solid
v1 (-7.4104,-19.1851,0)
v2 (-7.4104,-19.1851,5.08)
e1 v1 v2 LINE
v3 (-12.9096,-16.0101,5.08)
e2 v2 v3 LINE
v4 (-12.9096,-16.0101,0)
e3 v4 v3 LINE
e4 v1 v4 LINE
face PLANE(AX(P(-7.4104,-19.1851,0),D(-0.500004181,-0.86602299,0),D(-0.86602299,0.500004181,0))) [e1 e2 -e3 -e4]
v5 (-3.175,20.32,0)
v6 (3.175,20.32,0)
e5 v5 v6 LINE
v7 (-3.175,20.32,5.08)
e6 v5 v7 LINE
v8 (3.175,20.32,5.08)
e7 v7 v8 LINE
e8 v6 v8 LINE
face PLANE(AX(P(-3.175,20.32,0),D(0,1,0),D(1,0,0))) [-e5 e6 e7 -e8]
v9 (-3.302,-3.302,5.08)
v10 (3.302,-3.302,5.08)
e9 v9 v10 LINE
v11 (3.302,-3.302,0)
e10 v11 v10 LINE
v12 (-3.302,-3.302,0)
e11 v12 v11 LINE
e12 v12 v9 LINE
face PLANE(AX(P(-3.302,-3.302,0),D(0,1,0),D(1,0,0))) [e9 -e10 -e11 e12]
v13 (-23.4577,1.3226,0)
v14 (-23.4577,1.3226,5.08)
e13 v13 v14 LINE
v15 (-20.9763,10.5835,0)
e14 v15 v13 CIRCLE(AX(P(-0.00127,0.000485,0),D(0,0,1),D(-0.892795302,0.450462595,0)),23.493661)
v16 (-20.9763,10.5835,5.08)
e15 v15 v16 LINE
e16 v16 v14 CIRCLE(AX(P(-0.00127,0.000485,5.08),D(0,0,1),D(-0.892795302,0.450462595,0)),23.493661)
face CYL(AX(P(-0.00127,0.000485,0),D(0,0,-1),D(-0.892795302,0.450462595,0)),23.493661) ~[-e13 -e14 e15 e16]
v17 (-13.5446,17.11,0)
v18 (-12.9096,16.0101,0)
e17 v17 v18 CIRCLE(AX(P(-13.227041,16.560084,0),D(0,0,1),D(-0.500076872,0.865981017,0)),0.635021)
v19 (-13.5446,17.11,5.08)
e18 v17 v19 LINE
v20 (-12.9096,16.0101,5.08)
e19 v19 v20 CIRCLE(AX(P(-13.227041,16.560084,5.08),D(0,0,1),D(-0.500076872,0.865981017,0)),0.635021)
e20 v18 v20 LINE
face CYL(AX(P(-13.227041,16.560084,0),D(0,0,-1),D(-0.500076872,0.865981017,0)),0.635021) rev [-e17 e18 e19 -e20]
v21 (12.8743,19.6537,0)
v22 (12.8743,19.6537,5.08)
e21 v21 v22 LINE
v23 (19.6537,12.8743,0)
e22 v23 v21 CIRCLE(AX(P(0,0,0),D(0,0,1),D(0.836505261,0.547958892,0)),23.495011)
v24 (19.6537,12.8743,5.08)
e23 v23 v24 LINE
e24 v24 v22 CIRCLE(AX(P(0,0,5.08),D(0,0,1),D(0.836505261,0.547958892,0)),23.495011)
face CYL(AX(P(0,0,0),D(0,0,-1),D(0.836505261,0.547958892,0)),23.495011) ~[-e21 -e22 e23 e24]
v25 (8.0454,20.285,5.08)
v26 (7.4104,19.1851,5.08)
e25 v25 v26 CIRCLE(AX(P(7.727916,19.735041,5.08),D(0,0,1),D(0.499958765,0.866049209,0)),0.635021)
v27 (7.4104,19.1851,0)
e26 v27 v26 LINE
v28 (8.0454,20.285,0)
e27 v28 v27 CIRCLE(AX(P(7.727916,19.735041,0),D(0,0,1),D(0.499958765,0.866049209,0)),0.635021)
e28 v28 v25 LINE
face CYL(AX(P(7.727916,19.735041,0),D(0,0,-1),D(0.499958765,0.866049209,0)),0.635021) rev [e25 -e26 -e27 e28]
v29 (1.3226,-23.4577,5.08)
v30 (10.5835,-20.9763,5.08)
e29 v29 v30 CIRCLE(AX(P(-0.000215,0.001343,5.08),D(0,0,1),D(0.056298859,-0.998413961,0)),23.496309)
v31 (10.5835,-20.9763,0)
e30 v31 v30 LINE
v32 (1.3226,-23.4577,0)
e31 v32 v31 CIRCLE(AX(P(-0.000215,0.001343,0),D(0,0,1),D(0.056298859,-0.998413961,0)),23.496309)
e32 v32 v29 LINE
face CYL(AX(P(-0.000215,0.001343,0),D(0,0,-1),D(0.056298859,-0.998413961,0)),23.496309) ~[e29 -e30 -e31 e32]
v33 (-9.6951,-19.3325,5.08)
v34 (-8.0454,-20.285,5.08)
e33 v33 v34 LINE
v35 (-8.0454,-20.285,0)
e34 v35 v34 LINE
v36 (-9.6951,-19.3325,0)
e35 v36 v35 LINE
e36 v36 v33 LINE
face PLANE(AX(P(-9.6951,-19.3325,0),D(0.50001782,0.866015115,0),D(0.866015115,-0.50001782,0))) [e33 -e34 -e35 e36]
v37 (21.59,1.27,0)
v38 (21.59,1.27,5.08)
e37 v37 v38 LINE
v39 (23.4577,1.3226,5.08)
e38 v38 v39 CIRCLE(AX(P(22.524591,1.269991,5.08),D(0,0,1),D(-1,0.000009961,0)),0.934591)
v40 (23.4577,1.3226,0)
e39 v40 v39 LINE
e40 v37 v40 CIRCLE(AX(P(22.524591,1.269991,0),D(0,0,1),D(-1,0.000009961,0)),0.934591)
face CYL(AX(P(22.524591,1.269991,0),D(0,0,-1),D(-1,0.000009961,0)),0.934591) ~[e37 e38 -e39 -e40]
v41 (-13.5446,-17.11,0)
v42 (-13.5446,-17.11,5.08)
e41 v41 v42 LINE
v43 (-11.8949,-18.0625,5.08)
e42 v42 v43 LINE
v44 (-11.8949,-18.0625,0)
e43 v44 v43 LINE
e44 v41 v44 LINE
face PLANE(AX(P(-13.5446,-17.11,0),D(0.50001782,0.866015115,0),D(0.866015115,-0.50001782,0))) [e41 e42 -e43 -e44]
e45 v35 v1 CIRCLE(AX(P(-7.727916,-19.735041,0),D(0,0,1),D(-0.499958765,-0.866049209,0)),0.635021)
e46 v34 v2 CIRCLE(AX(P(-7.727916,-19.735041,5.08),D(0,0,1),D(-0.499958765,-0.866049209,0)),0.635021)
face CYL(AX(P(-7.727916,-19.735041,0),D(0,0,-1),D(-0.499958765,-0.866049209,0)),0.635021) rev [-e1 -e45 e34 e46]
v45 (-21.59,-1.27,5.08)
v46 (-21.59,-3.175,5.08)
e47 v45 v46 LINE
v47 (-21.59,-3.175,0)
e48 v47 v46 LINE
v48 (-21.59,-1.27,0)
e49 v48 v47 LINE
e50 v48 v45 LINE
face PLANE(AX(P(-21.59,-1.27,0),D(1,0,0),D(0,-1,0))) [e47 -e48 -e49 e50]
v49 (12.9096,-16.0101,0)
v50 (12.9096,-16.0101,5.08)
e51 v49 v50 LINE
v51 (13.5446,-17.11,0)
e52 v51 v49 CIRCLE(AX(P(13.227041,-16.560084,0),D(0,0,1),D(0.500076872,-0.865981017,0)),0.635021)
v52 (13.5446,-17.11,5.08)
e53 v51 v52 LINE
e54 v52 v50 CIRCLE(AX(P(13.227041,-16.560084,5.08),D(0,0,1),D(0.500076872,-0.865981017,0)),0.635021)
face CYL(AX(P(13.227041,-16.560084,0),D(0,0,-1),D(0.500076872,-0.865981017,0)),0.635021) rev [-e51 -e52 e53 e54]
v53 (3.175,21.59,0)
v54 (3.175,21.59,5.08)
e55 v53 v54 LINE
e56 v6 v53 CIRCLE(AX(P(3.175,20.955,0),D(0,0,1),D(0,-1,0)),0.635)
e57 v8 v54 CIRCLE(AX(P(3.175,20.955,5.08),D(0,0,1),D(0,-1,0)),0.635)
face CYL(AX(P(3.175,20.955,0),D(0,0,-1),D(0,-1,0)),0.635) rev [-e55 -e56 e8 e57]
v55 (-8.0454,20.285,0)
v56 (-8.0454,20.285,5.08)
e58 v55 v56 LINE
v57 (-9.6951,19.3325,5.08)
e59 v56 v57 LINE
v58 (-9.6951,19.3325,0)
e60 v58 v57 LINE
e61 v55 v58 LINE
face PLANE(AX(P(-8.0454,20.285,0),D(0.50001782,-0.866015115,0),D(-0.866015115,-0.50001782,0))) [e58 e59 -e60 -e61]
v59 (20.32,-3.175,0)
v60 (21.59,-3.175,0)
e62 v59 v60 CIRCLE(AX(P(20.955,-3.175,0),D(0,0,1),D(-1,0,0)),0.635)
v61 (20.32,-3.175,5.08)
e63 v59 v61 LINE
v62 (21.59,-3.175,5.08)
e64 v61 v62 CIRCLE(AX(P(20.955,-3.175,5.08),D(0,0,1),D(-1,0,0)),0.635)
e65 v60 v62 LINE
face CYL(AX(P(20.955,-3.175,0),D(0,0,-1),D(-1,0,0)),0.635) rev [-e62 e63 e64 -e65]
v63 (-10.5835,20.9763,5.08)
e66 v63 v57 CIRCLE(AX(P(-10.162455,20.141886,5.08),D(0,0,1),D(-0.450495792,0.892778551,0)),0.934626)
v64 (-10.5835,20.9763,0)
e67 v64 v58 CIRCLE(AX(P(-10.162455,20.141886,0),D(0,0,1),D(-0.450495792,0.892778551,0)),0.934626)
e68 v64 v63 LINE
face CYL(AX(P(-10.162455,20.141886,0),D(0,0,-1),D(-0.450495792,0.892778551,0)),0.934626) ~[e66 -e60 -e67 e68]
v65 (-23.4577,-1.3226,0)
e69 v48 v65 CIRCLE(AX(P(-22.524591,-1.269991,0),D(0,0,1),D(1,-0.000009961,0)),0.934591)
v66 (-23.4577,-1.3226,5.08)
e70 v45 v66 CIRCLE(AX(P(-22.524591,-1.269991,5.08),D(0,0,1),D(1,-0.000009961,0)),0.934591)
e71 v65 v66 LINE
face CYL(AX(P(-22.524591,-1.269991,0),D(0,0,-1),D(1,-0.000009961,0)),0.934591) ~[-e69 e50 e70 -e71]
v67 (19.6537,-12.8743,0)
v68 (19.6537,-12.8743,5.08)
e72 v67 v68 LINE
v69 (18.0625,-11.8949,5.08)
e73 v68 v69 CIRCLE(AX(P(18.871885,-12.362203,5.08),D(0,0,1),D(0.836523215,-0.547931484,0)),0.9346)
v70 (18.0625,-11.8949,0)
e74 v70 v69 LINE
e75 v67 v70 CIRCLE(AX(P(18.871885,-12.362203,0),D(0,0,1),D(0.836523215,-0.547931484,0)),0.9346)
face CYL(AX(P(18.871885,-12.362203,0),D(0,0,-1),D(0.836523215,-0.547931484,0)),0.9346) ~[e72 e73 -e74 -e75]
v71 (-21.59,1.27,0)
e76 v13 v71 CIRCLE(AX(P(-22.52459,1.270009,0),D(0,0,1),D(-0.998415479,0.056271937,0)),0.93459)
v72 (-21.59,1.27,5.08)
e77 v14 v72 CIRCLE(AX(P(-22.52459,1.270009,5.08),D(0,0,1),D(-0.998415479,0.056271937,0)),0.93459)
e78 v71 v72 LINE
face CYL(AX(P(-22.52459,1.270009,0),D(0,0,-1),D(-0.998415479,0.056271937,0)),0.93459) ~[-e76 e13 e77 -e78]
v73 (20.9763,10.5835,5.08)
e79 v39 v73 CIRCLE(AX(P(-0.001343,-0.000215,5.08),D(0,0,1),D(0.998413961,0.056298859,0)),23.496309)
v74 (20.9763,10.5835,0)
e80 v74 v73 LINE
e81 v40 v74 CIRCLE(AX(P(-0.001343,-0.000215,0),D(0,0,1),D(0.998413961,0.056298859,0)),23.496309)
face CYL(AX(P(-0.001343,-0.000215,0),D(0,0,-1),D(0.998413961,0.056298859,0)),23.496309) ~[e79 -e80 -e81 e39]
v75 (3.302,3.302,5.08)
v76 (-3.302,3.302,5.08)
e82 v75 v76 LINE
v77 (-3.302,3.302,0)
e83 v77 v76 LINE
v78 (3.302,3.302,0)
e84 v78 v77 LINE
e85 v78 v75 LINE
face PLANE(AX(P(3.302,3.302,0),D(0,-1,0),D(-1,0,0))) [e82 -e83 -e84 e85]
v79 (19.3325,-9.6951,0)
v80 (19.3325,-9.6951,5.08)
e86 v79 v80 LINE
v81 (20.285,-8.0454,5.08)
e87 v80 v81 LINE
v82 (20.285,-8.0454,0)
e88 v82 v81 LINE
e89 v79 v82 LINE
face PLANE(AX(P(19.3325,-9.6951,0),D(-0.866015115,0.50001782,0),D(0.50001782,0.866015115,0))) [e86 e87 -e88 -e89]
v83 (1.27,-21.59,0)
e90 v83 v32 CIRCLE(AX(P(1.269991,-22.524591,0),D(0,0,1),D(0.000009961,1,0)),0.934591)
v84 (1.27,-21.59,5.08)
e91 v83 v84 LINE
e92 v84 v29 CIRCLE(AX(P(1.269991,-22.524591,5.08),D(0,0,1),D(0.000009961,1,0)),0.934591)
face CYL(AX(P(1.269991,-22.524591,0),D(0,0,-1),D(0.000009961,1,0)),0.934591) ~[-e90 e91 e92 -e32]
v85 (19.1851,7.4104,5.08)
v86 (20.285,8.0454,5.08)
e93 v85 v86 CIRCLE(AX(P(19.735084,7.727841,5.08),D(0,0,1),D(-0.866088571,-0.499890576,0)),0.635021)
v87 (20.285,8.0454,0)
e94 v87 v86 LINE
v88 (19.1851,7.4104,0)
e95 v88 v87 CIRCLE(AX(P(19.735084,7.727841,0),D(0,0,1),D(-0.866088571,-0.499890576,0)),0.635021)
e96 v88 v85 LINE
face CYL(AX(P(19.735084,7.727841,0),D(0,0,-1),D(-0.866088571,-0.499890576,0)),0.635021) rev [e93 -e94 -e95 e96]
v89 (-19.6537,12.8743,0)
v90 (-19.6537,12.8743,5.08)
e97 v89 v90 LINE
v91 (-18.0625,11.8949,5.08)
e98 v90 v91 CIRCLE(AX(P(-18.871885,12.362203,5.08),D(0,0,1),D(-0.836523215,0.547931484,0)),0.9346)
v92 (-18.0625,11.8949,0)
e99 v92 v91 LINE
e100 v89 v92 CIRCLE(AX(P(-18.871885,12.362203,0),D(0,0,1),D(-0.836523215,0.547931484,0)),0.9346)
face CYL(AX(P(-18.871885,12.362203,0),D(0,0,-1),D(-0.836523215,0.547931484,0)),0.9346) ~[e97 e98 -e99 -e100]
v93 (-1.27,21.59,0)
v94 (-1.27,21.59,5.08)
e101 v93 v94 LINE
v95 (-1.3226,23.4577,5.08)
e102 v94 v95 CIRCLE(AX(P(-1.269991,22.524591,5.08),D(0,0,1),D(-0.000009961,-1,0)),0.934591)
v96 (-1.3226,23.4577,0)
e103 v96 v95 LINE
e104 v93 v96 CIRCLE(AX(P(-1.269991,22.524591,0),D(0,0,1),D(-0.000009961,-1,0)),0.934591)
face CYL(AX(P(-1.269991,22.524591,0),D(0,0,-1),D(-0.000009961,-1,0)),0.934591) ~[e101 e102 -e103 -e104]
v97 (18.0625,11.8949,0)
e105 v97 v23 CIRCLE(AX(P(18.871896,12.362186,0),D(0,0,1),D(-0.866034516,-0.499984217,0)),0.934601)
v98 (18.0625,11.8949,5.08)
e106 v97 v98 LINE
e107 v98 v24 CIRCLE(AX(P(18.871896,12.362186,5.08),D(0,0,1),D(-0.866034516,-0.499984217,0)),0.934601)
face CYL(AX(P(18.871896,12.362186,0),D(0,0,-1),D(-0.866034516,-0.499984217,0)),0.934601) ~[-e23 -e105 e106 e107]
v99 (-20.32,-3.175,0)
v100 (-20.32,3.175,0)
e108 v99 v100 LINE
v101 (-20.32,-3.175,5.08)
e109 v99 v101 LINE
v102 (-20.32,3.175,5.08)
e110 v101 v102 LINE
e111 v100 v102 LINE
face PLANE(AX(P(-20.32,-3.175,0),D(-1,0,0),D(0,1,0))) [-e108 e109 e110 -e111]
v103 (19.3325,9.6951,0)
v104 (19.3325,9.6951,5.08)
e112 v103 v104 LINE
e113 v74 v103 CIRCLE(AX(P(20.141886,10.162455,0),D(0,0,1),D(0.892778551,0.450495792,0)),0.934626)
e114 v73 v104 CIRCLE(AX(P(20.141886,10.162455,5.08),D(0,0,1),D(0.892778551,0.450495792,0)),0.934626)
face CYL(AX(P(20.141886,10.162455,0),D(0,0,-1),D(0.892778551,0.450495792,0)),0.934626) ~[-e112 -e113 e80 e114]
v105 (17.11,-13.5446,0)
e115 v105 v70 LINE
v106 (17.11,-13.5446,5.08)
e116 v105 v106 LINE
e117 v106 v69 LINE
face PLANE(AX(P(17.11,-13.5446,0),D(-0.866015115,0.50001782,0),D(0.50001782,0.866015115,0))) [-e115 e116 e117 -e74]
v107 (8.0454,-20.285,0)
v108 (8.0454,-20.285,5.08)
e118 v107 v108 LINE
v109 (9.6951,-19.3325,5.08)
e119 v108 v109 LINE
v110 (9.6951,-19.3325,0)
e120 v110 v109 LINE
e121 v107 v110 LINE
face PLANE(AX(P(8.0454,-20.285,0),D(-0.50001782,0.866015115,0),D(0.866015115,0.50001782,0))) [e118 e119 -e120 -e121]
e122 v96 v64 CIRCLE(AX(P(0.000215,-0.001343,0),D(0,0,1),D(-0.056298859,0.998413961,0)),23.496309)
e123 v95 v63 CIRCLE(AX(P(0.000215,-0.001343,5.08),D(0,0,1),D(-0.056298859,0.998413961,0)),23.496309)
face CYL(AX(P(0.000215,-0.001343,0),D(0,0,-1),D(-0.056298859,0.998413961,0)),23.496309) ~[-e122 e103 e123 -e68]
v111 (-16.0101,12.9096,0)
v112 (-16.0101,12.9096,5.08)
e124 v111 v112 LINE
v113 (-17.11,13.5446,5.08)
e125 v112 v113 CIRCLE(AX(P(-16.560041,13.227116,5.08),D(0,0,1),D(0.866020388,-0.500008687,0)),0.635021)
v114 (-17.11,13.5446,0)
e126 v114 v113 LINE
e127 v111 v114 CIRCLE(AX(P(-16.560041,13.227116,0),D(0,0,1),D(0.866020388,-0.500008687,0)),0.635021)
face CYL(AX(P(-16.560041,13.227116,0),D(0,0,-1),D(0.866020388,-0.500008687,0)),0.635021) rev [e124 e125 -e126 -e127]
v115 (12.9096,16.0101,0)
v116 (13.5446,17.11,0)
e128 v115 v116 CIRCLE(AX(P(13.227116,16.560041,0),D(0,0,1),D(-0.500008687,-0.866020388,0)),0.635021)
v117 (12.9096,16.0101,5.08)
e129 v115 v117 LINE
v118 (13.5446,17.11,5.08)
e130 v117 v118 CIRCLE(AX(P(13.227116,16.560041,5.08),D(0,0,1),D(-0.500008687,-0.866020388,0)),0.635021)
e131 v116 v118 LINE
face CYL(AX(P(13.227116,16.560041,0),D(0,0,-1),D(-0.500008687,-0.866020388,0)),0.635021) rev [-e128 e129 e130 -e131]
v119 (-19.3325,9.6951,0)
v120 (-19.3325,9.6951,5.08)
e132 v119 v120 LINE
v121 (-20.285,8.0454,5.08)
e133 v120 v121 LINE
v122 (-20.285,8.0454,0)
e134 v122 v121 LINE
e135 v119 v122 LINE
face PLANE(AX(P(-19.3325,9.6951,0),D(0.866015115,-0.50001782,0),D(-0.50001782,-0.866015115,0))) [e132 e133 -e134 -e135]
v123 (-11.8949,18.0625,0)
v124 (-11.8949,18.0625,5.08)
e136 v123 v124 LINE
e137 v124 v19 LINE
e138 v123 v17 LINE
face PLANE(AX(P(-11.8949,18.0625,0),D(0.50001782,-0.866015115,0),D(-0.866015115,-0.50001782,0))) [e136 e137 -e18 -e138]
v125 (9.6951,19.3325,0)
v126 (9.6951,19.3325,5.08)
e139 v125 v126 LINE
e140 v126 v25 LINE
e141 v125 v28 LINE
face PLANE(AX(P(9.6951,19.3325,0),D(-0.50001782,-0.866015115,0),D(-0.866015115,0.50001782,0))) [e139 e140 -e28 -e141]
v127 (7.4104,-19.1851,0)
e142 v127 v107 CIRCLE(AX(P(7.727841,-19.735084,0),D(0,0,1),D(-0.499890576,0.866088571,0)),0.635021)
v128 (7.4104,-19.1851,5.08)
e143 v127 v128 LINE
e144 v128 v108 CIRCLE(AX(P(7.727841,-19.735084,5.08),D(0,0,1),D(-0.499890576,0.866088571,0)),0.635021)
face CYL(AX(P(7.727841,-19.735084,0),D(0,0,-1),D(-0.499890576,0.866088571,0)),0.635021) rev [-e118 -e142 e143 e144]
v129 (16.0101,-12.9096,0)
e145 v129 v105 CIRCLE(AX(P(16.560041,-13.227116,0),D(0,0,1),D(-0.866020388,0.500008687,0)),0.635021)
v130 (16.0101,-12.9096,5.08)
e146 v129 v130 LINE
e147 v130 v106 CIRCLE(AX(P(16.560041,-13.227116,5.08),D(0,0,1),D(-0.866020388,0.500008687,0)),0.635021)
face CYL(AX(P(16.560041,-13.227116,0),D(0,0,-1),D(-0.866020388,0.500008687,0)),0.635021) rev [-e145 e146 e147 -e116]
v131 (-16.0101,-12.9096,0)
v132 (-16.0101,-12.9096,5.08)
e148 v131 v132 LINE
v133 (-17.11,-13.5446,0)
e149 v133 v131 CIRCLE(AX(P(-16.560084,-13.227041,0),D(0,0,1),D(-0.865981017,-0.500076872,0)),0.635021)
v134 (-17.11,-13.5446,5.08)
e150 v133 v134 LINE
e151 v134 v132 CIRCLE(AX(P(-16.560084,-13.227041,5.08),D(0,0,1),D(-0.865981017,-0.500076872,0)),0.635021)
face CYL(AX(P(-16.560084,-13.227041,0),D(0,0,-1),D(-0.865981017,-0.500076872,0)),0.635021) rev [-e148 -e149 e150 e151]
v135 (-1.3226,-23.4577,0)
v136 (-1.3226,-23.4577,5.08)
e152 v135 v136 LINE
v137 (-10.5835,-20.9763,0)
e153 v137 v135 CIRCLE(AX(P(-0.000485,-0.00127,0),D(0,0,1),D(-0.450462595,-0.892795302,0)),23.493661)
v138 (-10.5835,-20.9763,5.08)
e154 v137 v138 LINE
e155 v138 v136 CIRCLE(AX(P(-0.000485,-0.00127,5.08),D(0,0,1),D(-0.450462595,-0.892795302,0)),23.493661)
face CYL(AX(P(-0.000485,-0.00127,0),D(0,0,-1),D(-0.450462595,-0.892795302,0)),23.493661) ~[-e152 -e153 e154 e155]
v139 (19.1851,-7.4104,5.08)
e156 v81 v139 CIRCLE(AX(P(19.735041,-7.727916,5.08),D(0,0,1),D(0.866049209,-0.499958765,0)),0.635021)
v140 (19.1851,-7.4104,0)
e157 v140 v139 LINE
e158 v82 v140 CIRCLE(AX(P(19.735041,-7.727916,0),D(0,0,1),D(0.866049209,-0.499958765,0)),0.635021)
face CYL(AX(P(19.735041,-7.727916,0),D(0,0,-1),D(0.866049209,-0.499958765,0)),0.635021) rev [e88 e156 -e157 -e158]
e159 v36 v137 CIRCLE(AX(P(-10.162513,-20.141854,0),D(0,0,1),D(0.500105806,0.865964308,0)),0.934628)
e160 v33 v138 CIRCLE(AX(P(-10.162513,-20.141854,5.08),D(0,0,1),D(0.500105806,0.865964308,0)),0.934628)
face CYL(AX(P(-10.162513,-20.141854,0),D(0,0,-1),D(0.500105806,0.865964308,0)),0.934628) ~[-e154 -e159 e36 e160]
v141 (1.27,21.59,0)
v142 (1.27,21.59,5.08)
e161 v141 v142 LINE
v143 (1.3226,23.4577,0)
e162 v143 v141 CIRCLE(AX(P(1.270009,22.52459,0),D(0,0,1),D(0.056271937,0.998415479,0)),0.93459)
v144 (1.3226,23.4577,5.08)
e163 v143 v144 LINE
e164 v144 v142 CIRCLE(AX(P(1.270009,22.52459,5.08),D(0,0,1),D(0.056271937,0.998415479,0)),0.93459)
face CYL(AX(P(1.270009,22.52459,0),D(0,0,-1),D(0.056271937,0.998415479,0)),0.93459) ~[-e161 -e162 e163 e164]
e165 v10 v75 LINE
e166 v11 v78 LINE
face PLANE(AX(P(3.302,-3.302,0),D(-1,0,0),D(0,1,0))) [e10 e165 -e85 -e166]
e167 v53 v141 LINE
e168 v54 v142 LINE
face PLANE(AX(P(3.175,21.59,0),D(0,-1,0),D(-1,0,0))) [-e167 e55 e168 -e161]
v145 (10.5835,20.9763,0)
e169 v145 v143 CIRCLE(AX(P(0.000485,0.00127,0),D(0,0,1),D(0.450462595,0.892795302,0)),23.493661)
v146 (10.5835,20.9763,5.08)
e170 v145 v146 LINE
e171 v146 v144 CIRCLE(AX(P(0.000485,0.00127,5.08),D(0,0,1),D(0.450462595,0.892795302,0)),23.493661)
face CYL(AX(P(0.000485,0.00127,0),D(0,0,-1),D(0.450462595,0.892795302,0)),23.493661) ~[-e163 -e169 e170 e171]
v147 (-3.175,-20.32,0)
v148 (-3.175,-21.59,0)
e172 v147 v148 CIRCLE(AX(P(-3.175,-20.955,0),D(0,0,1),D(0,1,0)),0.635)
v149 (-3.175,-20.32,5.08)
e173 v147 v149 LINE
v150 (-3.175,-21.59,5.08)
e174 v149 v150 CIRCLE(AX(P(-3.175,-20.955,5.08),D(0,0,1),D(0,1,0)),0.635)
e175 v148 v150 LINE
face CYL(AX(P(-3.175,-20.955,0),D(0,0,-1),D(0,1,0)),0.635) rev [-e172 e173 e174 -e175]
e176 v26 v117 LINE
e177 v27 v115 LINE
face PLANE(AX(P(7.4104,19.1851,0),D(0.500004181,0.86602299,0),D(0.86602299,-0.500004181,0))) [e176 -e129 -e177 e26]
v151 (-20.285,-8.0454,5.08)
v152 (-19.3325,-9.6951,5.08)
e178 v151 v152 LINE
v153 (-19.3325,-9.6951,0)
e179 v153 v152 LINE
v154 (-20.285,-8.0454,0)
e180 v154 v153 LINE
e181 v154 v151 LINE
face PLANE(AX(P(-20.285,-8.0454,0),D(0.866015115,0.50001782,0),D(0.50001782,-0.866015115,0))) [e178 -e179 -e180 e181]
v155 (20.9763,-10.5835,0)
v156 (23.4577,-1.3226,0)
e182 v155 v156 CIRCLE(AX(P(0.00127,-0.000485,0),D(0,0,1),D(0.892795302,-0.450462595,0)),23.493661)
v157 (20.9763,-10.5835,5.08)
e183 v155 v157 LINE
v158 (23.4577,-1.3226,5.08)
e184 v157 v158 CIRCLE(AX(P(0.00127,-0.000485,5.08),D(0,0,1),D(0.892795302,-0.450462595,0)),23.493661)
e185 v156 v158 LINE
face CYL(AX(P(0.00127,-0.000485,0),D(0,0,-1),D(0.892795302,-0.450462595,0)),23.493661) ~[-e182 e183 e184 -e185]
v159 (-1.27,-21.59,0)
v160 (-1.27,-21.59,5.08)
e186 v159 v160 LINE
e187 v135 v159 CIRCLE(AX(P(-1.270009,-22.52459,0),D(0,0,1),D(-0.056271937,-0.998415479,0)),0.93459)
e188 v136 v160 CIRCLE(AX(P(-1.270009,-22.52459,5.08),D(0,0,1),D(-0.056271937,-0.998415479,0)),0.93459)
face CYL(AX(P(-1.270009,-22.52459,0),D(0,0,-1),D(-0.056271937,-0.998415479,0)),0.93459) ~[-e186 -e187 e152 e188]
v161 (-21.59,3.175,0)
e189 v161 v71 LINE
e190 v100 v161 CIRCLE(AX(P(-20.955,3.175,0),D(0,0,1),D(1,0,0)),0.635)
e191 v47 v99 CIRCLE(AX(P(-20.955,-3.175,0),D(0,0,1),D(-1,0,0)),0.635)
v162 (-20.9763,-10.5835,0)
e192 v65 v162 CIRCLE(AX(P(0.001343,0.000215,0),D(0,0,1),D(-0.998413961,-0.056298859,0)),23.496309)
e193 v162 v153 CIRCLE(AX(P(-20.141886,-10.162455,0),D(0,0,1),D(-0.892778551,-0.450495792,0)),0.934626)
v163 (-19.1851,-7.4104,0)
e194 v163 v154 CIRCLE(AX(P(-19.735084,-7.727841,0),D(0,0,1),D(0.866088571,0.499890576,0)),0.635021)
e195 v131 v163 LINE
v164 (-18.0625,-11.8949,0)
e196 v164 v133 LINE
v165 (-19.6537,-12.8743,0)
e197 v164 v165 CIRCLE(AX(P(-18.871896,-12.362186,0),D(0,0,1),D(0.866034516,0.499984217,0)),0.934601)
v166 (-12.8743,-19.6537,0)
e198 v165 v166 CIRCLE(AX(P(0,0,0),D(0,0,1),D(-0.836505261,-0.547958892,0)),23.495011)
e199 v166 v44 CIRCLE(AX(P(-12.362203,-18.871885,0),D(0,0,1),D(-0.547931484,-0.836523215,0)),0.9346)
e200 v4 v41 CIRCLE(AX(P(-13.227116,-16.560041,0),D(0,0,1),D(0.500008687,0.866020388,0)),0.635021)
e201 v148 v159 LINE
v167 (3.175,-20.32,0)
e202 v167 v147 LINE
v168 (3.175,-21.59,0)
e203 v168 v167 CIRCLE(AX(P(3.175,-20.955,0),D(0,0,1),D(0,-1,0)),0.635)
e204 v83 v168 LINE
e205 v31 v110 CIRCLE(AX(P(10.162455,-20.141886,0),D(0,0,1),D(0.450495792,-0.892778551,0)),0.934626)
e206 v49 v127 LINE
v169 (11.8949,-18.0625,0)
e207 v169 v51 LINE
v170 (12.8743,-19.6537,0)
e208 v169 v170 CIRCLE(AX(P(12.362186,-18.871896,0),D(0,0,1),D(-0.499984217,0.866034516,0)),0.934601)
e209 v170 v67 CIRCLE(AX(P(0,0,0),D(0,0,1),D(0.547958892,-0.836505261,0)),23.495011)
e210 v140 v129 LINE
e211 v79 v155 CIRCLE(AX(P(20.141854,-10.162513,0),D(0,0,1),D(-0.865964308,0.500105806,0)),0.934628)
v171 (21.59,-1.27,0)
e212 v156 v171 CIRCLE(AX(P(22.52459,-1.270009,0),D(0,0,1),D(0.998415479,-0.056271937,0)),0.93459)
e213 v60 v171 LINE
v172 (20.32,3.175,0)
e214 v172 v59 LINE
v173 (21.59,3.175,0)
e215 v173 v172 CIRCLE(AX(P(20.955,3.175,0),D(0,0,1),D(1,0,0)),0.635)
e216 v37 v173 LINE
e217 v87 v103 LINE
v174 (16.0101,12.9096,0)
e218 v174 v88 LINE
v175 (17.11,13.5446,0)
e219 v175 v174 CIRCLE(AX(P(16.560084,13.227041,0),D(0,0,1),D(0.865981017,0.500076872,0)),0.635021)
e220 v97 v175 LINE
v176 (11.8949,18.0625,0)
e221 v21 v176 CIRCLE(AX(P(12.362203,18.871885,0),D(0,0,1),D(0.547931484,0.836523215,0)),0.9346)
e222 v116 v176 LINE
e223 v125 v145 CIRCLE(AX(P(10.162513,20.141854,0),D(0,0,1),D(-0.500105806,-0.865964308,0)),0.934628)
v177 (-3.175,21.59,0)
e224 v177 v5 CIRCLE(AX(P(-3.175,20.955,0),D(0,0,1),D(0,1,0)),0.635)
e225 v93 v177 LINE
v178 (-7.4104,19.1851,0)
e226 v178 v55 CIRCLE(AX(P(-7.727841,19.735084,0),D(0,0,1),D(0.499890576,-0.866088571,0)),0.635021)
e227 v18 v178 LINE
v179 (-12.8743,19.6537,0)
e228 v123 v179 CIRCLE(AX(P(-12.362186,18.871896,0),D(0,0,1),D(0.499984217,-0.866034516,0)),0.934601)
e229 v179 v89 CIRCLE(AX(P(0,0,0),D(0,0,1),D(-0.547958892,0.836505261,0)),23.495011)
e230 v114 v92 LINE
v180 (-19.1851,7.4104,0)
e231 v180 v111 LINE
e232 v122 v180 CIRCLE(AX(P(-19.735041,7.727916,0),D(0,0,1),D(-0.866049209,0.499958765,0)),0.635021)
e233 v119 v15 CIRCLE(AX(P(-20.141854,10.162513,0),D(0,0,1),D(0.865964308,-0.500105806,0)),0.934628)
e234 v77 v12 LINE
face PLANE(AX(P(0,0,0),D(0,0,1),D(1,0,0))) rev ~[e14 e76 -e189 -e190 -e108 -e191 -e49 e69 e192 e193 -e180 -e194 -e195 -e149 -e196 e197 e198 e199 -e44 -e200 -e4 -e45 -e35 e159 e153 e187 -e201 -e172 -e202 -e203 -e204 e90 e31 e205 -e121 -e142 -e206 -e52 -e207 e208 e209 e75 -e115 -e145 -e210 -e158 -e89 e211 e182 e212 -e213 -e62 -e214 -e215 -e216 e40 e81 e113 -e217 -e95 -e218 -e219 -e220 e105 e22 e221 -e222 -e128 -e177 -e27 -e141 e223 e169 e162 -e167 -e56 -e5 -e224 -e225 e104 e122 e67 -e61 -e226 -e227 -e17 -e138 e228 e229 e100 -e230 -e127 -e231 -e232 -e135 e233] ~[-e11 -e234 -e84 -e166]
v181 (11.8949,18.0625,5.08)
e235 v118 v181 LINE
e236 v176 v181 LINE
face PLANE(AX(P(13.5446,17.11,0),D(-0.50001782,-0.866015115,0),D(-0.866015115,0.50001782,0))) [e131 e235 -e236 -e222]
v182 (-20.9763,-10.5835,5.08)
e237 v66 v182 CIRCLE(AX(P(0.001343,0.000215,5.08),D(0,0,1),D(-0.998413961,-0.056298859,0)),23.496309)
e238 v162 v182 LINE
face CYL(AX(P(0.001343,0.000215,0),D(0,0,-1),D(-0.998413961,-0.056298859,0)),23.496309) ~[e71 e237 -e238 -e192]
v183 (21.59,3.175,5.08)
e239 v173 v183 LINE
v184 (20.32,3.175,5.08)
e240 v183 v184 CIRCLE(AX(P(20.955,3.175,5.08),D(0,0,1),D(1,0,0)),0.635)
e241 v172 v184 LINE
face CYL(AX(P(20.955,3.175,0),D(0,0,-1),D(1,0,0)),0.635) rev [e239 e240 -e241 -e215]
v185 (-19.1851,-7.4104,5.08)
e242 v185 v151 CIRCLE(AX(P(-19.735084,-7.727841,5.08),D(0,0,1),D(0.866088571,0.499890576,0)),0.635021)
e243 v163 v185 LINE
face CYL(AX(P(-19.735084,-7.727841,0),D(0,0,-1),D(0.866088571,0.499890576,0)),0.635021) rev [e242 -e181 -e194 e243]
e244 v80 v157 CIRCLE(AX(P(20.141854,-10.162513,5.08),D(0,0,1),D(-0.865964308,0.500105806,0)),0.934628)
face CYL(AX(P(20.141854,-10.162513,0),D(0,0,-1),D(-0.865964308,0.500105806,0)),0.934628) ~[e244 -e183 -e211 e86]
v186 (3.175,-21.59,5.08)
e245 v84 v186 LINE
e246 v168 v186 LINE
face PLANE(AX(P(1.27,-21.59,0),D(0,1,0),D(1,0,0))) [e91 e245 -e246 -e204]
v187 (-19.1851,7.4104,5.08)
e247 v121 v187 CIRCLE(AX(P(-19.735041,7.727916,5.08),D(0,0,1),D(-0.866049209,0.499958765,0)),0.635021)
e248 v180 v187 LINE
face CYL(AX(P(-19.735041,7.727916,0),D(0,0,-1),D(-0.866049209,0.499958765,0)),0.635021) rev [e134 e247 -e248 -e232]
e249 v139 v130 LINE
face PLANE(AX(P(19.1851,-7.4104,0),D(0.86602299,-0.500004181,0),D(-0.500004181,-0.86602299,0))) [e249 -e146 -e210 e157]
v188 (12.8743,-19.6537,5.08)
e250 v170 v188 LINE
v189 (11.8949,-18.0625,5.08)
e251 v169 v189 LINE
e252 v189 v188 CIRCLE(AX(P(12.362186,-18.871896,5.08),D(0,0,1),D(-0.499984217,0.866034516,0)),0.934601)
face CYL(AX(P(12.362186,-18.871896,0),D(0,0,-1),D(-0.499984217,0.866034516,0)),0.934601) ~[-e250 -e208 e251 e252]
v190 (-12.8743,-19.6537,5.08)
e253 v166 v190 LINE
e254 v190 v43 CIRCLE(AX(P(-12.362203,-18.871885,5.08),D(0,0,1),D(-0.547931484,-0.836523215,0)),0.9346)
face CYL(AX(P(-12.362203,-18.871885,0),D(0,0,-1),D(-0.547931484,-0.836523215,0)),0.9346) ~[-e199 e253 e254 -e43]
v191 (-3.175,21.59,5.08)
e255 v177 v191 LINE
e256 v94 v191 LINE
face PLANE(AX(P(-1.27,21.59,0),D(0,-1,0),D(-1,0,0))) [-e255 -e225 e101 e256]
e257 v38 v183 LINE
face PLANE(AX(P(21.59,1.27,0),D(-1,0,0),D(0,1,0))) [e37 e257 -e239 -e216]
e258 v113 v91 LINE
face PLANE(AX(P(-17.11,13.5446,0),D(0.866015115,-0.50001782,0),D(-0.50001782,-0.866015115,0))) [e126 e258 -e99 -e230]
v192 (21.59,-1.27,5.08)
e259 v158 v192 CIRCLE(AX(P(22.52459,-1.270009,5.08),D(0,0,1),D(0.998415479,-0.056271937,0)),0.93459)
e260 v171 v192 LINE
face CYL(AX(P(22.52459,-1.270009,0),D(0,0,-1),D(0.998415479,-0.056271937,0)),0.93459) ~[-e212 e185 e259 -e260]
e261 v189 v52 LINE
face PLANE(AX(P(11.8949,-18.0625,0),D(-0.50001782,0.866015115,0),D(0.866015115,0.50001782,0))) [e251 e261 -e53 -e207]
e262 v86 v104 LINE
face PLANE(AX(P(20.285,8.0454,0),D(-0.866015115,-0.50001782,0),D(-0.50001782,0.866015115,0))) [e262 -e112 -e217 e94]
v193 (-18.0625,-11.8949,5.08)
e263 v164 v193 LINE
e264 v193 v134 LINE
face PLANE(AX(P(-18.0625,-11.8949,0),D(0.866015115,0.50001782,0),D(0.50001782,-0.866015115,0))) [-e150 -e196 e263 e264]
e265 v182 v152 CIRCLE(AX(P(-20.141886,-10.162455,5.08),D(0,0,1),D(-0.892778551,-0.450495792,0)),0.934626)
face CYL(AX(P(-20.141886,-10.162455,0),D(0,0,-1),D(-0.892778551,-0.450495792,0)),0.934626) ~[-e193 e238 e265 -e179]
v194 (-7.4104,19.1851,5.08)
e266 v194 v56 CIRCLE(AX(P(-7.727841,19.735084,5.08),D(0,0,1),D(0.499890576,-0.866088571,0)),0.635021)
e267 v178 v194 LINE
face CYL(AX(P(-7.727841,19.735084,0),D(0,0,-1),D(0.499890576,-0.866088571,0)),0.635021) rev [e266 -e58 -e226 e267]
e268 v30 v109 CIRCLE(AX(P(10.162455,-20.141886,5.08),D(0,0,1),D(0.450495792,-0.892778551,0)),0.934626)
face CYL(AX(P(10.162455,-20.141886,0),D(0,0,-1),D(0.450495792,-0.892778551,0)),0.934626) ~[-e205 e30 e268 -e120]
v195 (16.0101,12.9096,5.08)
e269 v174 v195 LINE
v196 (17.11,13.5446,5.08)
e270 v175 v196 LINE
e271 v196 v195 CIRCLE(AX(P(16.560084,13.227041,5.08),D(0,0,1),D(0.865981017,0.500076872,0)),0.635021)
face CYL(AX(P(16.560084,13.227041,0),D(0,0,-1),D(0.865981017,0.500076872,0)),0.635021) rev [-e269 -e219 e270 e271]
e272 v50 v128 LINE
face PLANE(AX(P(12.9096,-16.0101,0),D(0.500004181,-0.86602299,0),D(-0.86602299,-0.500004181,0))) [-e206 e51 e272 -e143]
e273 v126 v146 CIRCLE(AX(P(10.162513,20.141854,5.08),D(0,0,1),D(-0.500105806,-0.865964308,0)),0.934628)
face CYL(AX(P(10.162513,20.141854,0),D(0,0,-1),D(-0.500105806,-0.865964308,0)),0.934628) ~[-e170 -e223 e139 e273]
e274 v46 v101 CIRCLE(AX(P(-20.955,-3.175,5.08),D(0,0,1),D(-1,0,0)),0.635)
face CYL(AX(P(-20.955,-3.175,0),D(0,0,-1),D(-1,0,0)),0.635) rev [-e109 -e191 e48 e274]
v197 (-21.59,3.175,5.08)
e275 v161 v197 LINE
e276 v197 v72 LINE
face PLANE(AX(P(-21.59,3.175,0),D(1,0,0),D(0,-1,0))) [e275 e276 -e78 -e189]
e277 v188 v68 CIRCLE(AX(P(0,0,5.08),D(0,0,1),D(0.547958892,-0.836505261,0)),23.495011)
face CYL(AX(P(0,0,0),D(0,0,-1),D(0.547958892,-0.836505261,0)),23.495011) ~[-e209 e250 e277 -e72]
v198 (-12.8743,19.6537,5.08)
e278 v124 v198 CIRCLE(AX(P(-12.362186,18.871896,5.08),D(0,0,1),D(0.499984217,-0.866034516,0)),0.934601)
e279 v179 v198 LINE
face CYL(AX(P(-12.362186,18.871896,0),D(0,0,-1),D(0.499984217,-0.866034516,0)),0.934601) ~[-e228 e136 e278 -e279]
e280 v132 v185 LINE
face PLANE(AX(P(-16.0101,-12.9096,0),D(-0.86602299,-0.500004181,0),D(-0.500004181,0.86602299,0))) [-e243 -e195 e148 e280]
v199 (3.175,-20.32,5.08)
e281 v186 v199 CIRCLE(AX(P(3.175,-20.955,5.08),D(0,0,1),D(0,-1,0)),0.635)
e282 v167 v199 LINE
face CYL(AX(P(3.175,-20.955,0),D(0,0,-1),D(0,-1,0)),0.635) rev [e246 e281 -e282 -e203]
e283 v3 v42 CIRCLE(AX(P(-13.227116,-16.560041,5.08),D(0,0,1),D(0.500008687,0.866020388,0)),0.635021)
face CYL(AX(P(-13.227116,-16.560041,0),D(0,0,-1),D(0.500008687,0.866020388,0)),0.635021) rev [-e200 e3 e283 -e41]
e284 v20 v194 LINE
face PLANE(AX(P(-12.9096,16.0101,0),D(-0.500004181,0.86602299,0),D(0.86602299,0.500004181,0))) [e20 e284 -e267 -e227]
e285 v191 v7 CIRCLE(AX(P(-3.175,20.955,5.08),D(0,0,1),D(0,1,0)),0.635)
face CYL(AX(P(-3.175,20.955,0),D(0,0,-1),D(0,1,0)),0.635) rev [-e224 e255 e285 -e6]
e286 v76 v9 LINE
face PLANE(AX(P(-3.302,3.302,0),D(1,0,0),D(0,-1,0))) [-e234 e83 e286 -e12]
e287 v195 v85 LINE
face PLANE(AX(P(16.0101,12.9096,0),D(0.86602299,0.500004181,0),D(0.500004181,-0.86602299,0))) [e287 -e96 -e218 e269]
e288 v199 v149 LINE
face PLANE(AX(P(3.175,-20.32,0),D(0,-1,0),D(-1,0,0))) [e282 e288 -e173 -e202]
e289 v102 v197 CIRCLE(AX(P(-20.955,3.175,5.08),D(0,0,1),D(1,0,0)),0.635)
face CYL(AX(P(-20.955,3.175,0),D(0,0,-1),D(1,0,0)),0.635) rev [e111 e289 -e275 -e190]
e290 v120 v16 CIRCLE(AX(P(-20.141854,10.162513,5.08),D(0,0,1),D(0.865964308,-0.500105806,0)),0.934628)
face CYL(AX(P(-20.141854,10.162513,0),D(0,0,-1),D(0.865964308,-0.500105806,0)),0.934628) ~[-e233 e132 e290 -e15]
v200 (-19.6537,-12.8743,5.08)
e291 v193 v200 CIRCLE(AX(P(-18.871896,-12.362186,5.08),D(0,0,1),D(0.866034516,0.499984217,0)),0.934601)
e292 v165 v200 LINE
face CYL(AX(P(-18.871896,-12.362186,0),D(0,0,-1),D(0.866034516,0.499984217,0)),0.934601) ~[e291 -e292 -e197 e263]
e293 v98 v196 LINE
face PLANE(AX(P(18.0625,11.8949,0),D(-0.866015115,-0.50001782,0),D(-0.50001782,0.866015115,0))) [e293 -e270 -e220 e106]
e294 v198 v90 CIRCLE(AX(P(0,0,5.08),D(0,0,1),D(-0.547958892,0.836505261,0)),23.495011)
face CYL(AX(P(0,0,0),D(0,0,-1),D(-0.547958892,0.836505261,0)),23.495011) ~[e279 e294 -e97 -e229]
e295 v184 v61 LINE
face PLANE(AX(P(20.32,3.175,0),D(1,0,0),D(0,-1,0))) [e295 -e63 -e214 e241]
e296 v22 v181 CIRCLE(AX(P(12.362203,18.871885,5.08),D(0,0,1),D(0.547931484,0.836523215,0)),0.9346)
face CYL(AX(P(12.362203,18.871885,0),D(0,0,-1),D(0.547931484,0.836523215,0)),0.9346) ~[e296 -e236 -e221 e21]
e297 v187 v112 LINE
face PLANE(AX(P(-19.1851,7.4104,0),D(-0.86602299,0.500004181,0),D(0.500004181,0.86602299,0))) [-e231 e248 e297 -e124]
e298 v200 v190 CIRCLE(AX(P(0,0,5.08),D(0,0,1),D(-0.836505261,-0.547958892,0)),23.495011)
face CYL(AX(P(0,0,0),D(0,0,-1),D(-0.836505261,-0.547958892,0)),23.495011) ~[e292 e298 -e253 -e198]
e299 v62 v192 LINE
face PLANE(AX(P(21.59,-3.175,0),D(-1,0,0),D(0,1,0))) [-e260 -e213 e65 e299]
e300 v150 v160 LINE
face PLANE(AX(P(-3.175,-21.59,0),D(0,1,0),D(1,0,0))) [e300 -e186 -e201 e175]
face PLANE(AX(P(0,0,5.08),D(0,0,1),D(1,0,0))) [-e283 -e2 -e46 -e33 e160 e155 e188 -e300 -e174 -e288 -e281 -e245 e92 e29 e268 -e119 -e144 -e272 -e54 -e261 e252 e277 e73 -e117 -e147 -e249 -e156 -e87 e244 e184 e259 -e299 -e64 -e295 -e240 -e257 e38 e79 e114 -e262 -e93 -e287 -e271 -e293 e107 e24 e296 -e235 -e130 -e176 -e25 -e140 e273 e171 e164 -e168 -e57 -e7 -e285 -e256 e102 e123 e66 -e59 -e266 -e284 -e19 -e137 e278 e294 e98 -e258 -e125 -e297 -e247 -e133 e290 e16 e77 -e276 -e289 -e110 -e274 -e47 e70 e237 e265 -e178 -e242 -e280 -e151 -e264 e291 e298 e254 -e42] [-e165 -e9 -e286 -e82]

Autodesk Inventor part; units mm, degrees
ref_plane "YZ Plane" through (0, 0, 0) normal (1, 0, 0) x (0, 1, 0)
ref_plane "XZ Plane" through (0, 0, 0) normal (0, 1, 0) x (-1, 0, 0)
ref_plane "XY Plane" through (0, 0, 0) normal (0, 0, 1) x (1, 0, 0)
sketch "Sketch1" plane through (0, 0, 0) normal (0, 0, 1) x (1, 0, 0)
  arc A0 (-1.3226, 23.4577) -> (-10.5835, 20.9763) centre (0, 0) ccw
  line L0 (-3.302, -3.302) -> (3.302, -3.302)
  line L1 (3.302, -3.302) -> (3.302, 3.302)
  line L2 (3.302, 3.302) -> (-3.302, 3.302)
  line L3 (-3.302, 3.302) -> (-3.302, -3.302)
  line L4 (-3.302, -3.302) -> (3.302, 3.302) construction
  line L5 (3.302, -3.302) -> (-3.302, 3.302) construction
  line L6 (0, 0) -> (0, 9.525) construction
  line L7 (-3.175, 20.955) -> (3.175, 20.955)
  line L8 (-3.175, 20.32) -> (3.175, 20.32)
  arc A1 (-3.175, 21.59) -> (-3.175, 20.32) centre (-3.175, 20.955) ccw
  arc A2 (3.175, 20.32) -> (3.175, 21.59) centre (3.175, 20.955) ccw
  arc A3 (-1.27, 21.59) -> (-1.3226, 23.4577) centre (-1.27, 22.5246) ccw
  arc A4 (1.3226, 23.4577) -> (1.27, 21.59) centre (1.27, 22.5246) ccw
  line L9 (-1.27, 22.5246) -> (1.27, 22.5246) construction
  line L10 (3.175, 21.59) -> (1.27, 21.59)
  line L11 (-1.27, 21.59) -> (-3.175, 21.59)
  arc A5 (-13.5446, 17.11) -> (-12.9096, 16.0101) centre (-13.2271, 16.5601) ccw
  line L12 (-12.9096, 16.0101) -> (-7.4104, 19.1851)
  arc A6 (-7.4104, 19.1851) -> (-8.0454, 20.285) centre (-7.7279, 19.7351) ccw
  arc A7 (-10.5835, 20.9763) -> (-9.6951, 19.3325) centre (-10.1625, 20.1419) ccw
  line L13 (-8.0454, 20.285) -> (-9.6951, 19.3325)
  line L14 (-11.8949, 18.0625) -> (-13.5446, 17.11)
  arc A8 (-11.8949, 18.0625) -> (-12.8743, 19.6537) centre (-12.3622, 18.8719) ccw
  arc A9 (-20.285, 8.0454) -> (-19.1851, 7.4104) centre (-19.7351, 7.7279) ccw
  line L15 (-19.1851, 7.4104) -> (-16.0101, 12.9096)
  arc A10 (-16.0101, 12.9096) -> (-17.11, 13.5446) centre (-16.5601, 13.2271) ccw
  arc A11 (-19.6537, 12.8743) -> (-18.0625, 11.8949) centre (-18.8719, 12.3622) ccw
  line L16 (-17.11, 13.5446) -> (-18.0625, 11.8949)
  line L17 (-19.3325, 9.6951) -> (-20.285, 8.0454)
  arc A12 (-19.3325, 9.6951) -> (-20.9763, 10.5835) centre (-20.1419, 10.1625) ccw
  arc A13 (-21.59, -3.175) -> (-20.32, -3.175) centre (-20.955, -3.175) ccw
  line L18 (-20.32, -3.175) -> (-20.32, 3.175)
  arc A14 (-20.32, 3.175) -> (-21.59, 3.175) centre (-20.955, 3.175) ccw
  arc A15 (-23.4577, 1.3226) -> (-21.59, 1.27) centre (-22.5246, 1.27) ccw
  line L19 (-21.59, 3.175) -> (-21.59, 1.27)
  line L20 (-21.59, -1.27) -> (-21.59, -3.175)
  arc A16 (-21.59, -1.27) -> (-23.4577, -1.3226) centre (-22.5246, -1.27) ccw
  arc A17 (-17.11, -13.5446) -> (-16.0101, -12.9096) centre (-16.5601, -13.2271) ccw
  line L21 (-16.0101, -12.9096) -> (-19.1851, -7.4104)
  arc A18 (-19.1851, -7.4104) -> (-20.285, -8.0454) centre (-19.7351, -7.7279) ccw
  arc A19 (-20.9763, -10.5835) -> (-19.3325, -9.6951) centre (-20.1419, -10.1625) ccw
  line L22 (-20.285, -8.0454) -> (-19.3325, -9.6951)
  line L23 (-18.0625, -11.8949) -> (-17.11, -13.5446)
  arc A20 (-18.0625, -11.8949) -> (-19.6537, -12.8743) centre (-18.8719, -12.3622) ccw
  arc A21 (-8.0454, -20.285) -> (-7.4104, -19.1851) centre (-7.7279, -19.7351) ccw
  line L24 (-7.4104, -19.1851) -> (-12.9096, -16.0101)
  arc A22 (-12.9096, -16.0101) -> (-13.5446, -17.11) centre (-13.2271, -16.5601) ccw
  arc A23 (-12.8743, -19.6537) -> (-11.8949, -18.0625) centre (-12.3622, -18.8719) ccw
  line L25 (-13.5446, -17.11) -> (-11.8949, -18.0625)
  line L26 (-9.6951, -19.3325) -> (-8.0454, -20.285)
  arc A24 (-9.6951, -19.3325) -> (-10.5835, -20.9763) centre (-10.1625, -20.1419) ccw
  arc A25 (3.175, -21.59) -> (3.175, -20.32) centre (3.175, -20.955) ccw
  line L27 (3.175, -20.32) -> (-3.175, -20.32)
  arc A26 (-3.175, -20.32) -> (-3.175, -21.59) centre (-3.175, -20.955) ccw
  arc A27 (-1.3226, -23.4577) -> (-1.27, -21.59) centre (-1.27, -22.5246) ccw
  line L28 (-3.175, -21.59) -> (-1.27, -21.59)
  line L29 (1.27, -21.59) -> (3.175, -21.59)
  arc A28 (1.27, -21.59) -> (1.3226, -23.4577) centre (1.27, -22.5246) ccw
  arc A29 (13.5446, -17.11) -> (12.9096, -16.0101) centre (13.2271, -16.5601) ccw
  line L30 (12.9096, -16.0101) -> (7.4104, -19.1851)
  arc A30 (7.4104, -19.1851) -> (8.0454, -20.285) centre (7.7279, -19.7351) ccw
  arc A31 (10.5835, -20.9763) -> (9.6951, -19.3325) centre (10.1625, -20.1419) ccw
  line L31 (8.0454, -20.285) -> (9.6951, -19.3325)
  line L32 (11.8949, -18.0625) -> (13.5446, -17.11)
  arc A32 (11.8949, -18.0625) -> (12.8743, -19.6537) centre (12.3622, -18.8719) ccw
  arc A33 (20.285, -8.0454) -> (19.1851, -7.4104) centre (19.7351, -7.7279) ccw
  line L33 (19.1851, -7.4104) -> (16.0101, -12.9096)
  arc A34 (16.0101, -12.9096) -> (17.11, -13.5446) centre (16.5601, -13.2271) ccw
  arc A35 (19.6537, -12.8743) -> (18.0625, -11.8949) centre (18.8719, -12.3622) ccw
  line L34 (17.11, -13.5446) -> (18.0625, -11.8949)
  line L35 (19.3325, -9.6951) -> (20.285, -8.0454)
  arc A36 (19.3325, -9.6951) -> (20.9763, -10.5835) centre (20.1419, -10.1625) ccw
  arc A37 (21.59, 3.175) -> (20.32, 3.175) centre (20.955, 3.175) ccw
  line L36 (20.32, 3.175) -> (20.32, -3.175)
  arc A38 (20.32, -3.175) -> (21.59, -3.175) centre (20.955, -3.175) ccw
  arc A39 (23.4577, -1.3226) -> (21.59, -1.27) centre (22.5246, -1.27) ccw
  line L37 (21.59, -3.175) -> (21.59, -1.27)
  line L38 (21.59, 1.27) -> (21.59, 3.175)
  arc A40 (21.59, 1.27) -> (23.4577, 1.3226) centre (22.5246, 1.27) ccw
  arc A41 (17.11, 13.5446) -> (16.0101, 12.9096) centre (16.5601, 13.2271) ccw
  line L39 (16.0101, 12.9096) -> (19.1851, 7.4104)
  arc A42 (19.1851, 7.4104) -> (20.285, 8.0454) centre (19.7351, 7.7279) ccw
  arc A43 (20.9763, 10.5835) -> (19.3325, 9.6951) centre (20.1419, 10.1625) ccw
  line L40 (20.285, 8.0454) -> (19.3325, 9.6951)
  line L41 (18.0625, 11.8949) -> (17.11, 13.5446)
  arc A44 (18.0625, 11.8949) -> (19.6537, 12.8743) centre (18.8719, 12.3622) ccw
  arc A45 (8.0454, 20.285) -> (7.4104, 19.1851) centre (7.7279, 19.7351) ccw
  line L42 (7.4104, 19.1851) -> (12.9096, 16.0101)
  arc A46 (12.9096, 16.0101) -> (13.5446, 17.11) centre (13.2271, 16.5601) ccw
  arc A47 (12.8743, 19.6537) -> (11.8949, 18.0625) centre (12.3622, 18.8719) ccw
  line L43 (13.5446, 17.11) -> (11.8949, 18.0625)
  line L44 (9.6951, 19.3325) -> (8.0454, 20.285)
  arc A48 (9.6951, 19.3325) -> (10.5835, 20.9763) centre (10.1625, 20.1419) ccw
  arc A49 (-12.8743, 19.6537) -> (-19.6537, 12.8743) centre (0, 0) ccw
  arc A50 (-10.5835, 20.9763) -> (-12.8743, 19.6537) centre (0, 0) ccw construction
  arc A51 (10.5835, 20.9763) -> (1.3226, 23.4577) centre (0, 0) ccw
  arc A52 (12.8743, 19.6537) -> (10.5835, 20.9763) centre (0, 0) ccw construction
  arc A53 (19.6537, 12.8743) -> (12.8743, 19.6537) centre (0, 0) ccw
  arc A54 (20.9763, 10.5835) -> (19.6537, 12.8743) centre (0, 0) ccw construction
  arc A55 (23.4577, 1.3226) -> (20.9763, 10.5835) centre (0, 0) ccw
  arc A56 (23.4577, -1.3226) -> (23.4577, 1.3226) centre (0, 0) ccw construction
  arc A57 (20.9763, -10.5835) -> (23.4577, -1.3226) centre (0, 0) ccw
  arc A58 (19.6537, -12.8743) -> (20.9763, -10.5835) centre (0, 0) ccw construction
  arc A59 (12.8743, -19.6537) -> (19.6537, -12.8743) centre (0, 0) ccw
  arc A60 (10.5835, -20.9763) -> (12.8743, -19.6537) centre (0, 0) ccw construction
  arc A61 (1.3226, -23.4577) -> (10.5835, -20.9763) centre (0, 0) ccw
  arc A62 (-1.3226, -23.4577) -> (1.3226, -23.4577) centre (0, 0) ccw construction
  arc A63 (-12.8743, -19.6537) -> (-10.5835, -20.9763) centre (0, 0) ccw construction
  arc A64 (-10.5835, -20.9763) -> (-1.3226, -23.4577) centre (0, 0) ccw
  arc A65 (-20.9763, -10.5835) -> (-19.6537, -12.8743) centre (0, 0) ccw construction
  arc A66 (-19.6537, -12.8743) -> (-12.8743, -19.6537) centre (0, 0) ccw
  arc A67 (-23.4577, -1.3226) -> (-20.9763, -10.5835) centre (0, 0) ccw
  arc A68 (-23.4577, 1.3226) -> (-23.4577, -1.3226) centre (0, 0) ccw construction
  arc A69 (-19.6537, 12.8743) -> (-20.9763, 10.5835) centre (0, 0) ccw construction
  arc A70 (-20.9763, 10.5835) -> (-23.4577, 1.3226) centre (0, 0) ccw
  point P0 (0, 20.955)
  dimension "d0" = 46.99
  dimension "d1" = 6.604
  dimension "d2" = 6.604
  dimension "d3" = 20.955
  dimension "d4" = 6.35
  dimension "d5" = 2.54
  dimension "d6" = 0.635
  dimension "d11" = 360
extrude "Extrusion1" add sketch "Sketch1" along normal blind 5.08
properties part number "Sprocket" material "Plastic, Opaque Black"
